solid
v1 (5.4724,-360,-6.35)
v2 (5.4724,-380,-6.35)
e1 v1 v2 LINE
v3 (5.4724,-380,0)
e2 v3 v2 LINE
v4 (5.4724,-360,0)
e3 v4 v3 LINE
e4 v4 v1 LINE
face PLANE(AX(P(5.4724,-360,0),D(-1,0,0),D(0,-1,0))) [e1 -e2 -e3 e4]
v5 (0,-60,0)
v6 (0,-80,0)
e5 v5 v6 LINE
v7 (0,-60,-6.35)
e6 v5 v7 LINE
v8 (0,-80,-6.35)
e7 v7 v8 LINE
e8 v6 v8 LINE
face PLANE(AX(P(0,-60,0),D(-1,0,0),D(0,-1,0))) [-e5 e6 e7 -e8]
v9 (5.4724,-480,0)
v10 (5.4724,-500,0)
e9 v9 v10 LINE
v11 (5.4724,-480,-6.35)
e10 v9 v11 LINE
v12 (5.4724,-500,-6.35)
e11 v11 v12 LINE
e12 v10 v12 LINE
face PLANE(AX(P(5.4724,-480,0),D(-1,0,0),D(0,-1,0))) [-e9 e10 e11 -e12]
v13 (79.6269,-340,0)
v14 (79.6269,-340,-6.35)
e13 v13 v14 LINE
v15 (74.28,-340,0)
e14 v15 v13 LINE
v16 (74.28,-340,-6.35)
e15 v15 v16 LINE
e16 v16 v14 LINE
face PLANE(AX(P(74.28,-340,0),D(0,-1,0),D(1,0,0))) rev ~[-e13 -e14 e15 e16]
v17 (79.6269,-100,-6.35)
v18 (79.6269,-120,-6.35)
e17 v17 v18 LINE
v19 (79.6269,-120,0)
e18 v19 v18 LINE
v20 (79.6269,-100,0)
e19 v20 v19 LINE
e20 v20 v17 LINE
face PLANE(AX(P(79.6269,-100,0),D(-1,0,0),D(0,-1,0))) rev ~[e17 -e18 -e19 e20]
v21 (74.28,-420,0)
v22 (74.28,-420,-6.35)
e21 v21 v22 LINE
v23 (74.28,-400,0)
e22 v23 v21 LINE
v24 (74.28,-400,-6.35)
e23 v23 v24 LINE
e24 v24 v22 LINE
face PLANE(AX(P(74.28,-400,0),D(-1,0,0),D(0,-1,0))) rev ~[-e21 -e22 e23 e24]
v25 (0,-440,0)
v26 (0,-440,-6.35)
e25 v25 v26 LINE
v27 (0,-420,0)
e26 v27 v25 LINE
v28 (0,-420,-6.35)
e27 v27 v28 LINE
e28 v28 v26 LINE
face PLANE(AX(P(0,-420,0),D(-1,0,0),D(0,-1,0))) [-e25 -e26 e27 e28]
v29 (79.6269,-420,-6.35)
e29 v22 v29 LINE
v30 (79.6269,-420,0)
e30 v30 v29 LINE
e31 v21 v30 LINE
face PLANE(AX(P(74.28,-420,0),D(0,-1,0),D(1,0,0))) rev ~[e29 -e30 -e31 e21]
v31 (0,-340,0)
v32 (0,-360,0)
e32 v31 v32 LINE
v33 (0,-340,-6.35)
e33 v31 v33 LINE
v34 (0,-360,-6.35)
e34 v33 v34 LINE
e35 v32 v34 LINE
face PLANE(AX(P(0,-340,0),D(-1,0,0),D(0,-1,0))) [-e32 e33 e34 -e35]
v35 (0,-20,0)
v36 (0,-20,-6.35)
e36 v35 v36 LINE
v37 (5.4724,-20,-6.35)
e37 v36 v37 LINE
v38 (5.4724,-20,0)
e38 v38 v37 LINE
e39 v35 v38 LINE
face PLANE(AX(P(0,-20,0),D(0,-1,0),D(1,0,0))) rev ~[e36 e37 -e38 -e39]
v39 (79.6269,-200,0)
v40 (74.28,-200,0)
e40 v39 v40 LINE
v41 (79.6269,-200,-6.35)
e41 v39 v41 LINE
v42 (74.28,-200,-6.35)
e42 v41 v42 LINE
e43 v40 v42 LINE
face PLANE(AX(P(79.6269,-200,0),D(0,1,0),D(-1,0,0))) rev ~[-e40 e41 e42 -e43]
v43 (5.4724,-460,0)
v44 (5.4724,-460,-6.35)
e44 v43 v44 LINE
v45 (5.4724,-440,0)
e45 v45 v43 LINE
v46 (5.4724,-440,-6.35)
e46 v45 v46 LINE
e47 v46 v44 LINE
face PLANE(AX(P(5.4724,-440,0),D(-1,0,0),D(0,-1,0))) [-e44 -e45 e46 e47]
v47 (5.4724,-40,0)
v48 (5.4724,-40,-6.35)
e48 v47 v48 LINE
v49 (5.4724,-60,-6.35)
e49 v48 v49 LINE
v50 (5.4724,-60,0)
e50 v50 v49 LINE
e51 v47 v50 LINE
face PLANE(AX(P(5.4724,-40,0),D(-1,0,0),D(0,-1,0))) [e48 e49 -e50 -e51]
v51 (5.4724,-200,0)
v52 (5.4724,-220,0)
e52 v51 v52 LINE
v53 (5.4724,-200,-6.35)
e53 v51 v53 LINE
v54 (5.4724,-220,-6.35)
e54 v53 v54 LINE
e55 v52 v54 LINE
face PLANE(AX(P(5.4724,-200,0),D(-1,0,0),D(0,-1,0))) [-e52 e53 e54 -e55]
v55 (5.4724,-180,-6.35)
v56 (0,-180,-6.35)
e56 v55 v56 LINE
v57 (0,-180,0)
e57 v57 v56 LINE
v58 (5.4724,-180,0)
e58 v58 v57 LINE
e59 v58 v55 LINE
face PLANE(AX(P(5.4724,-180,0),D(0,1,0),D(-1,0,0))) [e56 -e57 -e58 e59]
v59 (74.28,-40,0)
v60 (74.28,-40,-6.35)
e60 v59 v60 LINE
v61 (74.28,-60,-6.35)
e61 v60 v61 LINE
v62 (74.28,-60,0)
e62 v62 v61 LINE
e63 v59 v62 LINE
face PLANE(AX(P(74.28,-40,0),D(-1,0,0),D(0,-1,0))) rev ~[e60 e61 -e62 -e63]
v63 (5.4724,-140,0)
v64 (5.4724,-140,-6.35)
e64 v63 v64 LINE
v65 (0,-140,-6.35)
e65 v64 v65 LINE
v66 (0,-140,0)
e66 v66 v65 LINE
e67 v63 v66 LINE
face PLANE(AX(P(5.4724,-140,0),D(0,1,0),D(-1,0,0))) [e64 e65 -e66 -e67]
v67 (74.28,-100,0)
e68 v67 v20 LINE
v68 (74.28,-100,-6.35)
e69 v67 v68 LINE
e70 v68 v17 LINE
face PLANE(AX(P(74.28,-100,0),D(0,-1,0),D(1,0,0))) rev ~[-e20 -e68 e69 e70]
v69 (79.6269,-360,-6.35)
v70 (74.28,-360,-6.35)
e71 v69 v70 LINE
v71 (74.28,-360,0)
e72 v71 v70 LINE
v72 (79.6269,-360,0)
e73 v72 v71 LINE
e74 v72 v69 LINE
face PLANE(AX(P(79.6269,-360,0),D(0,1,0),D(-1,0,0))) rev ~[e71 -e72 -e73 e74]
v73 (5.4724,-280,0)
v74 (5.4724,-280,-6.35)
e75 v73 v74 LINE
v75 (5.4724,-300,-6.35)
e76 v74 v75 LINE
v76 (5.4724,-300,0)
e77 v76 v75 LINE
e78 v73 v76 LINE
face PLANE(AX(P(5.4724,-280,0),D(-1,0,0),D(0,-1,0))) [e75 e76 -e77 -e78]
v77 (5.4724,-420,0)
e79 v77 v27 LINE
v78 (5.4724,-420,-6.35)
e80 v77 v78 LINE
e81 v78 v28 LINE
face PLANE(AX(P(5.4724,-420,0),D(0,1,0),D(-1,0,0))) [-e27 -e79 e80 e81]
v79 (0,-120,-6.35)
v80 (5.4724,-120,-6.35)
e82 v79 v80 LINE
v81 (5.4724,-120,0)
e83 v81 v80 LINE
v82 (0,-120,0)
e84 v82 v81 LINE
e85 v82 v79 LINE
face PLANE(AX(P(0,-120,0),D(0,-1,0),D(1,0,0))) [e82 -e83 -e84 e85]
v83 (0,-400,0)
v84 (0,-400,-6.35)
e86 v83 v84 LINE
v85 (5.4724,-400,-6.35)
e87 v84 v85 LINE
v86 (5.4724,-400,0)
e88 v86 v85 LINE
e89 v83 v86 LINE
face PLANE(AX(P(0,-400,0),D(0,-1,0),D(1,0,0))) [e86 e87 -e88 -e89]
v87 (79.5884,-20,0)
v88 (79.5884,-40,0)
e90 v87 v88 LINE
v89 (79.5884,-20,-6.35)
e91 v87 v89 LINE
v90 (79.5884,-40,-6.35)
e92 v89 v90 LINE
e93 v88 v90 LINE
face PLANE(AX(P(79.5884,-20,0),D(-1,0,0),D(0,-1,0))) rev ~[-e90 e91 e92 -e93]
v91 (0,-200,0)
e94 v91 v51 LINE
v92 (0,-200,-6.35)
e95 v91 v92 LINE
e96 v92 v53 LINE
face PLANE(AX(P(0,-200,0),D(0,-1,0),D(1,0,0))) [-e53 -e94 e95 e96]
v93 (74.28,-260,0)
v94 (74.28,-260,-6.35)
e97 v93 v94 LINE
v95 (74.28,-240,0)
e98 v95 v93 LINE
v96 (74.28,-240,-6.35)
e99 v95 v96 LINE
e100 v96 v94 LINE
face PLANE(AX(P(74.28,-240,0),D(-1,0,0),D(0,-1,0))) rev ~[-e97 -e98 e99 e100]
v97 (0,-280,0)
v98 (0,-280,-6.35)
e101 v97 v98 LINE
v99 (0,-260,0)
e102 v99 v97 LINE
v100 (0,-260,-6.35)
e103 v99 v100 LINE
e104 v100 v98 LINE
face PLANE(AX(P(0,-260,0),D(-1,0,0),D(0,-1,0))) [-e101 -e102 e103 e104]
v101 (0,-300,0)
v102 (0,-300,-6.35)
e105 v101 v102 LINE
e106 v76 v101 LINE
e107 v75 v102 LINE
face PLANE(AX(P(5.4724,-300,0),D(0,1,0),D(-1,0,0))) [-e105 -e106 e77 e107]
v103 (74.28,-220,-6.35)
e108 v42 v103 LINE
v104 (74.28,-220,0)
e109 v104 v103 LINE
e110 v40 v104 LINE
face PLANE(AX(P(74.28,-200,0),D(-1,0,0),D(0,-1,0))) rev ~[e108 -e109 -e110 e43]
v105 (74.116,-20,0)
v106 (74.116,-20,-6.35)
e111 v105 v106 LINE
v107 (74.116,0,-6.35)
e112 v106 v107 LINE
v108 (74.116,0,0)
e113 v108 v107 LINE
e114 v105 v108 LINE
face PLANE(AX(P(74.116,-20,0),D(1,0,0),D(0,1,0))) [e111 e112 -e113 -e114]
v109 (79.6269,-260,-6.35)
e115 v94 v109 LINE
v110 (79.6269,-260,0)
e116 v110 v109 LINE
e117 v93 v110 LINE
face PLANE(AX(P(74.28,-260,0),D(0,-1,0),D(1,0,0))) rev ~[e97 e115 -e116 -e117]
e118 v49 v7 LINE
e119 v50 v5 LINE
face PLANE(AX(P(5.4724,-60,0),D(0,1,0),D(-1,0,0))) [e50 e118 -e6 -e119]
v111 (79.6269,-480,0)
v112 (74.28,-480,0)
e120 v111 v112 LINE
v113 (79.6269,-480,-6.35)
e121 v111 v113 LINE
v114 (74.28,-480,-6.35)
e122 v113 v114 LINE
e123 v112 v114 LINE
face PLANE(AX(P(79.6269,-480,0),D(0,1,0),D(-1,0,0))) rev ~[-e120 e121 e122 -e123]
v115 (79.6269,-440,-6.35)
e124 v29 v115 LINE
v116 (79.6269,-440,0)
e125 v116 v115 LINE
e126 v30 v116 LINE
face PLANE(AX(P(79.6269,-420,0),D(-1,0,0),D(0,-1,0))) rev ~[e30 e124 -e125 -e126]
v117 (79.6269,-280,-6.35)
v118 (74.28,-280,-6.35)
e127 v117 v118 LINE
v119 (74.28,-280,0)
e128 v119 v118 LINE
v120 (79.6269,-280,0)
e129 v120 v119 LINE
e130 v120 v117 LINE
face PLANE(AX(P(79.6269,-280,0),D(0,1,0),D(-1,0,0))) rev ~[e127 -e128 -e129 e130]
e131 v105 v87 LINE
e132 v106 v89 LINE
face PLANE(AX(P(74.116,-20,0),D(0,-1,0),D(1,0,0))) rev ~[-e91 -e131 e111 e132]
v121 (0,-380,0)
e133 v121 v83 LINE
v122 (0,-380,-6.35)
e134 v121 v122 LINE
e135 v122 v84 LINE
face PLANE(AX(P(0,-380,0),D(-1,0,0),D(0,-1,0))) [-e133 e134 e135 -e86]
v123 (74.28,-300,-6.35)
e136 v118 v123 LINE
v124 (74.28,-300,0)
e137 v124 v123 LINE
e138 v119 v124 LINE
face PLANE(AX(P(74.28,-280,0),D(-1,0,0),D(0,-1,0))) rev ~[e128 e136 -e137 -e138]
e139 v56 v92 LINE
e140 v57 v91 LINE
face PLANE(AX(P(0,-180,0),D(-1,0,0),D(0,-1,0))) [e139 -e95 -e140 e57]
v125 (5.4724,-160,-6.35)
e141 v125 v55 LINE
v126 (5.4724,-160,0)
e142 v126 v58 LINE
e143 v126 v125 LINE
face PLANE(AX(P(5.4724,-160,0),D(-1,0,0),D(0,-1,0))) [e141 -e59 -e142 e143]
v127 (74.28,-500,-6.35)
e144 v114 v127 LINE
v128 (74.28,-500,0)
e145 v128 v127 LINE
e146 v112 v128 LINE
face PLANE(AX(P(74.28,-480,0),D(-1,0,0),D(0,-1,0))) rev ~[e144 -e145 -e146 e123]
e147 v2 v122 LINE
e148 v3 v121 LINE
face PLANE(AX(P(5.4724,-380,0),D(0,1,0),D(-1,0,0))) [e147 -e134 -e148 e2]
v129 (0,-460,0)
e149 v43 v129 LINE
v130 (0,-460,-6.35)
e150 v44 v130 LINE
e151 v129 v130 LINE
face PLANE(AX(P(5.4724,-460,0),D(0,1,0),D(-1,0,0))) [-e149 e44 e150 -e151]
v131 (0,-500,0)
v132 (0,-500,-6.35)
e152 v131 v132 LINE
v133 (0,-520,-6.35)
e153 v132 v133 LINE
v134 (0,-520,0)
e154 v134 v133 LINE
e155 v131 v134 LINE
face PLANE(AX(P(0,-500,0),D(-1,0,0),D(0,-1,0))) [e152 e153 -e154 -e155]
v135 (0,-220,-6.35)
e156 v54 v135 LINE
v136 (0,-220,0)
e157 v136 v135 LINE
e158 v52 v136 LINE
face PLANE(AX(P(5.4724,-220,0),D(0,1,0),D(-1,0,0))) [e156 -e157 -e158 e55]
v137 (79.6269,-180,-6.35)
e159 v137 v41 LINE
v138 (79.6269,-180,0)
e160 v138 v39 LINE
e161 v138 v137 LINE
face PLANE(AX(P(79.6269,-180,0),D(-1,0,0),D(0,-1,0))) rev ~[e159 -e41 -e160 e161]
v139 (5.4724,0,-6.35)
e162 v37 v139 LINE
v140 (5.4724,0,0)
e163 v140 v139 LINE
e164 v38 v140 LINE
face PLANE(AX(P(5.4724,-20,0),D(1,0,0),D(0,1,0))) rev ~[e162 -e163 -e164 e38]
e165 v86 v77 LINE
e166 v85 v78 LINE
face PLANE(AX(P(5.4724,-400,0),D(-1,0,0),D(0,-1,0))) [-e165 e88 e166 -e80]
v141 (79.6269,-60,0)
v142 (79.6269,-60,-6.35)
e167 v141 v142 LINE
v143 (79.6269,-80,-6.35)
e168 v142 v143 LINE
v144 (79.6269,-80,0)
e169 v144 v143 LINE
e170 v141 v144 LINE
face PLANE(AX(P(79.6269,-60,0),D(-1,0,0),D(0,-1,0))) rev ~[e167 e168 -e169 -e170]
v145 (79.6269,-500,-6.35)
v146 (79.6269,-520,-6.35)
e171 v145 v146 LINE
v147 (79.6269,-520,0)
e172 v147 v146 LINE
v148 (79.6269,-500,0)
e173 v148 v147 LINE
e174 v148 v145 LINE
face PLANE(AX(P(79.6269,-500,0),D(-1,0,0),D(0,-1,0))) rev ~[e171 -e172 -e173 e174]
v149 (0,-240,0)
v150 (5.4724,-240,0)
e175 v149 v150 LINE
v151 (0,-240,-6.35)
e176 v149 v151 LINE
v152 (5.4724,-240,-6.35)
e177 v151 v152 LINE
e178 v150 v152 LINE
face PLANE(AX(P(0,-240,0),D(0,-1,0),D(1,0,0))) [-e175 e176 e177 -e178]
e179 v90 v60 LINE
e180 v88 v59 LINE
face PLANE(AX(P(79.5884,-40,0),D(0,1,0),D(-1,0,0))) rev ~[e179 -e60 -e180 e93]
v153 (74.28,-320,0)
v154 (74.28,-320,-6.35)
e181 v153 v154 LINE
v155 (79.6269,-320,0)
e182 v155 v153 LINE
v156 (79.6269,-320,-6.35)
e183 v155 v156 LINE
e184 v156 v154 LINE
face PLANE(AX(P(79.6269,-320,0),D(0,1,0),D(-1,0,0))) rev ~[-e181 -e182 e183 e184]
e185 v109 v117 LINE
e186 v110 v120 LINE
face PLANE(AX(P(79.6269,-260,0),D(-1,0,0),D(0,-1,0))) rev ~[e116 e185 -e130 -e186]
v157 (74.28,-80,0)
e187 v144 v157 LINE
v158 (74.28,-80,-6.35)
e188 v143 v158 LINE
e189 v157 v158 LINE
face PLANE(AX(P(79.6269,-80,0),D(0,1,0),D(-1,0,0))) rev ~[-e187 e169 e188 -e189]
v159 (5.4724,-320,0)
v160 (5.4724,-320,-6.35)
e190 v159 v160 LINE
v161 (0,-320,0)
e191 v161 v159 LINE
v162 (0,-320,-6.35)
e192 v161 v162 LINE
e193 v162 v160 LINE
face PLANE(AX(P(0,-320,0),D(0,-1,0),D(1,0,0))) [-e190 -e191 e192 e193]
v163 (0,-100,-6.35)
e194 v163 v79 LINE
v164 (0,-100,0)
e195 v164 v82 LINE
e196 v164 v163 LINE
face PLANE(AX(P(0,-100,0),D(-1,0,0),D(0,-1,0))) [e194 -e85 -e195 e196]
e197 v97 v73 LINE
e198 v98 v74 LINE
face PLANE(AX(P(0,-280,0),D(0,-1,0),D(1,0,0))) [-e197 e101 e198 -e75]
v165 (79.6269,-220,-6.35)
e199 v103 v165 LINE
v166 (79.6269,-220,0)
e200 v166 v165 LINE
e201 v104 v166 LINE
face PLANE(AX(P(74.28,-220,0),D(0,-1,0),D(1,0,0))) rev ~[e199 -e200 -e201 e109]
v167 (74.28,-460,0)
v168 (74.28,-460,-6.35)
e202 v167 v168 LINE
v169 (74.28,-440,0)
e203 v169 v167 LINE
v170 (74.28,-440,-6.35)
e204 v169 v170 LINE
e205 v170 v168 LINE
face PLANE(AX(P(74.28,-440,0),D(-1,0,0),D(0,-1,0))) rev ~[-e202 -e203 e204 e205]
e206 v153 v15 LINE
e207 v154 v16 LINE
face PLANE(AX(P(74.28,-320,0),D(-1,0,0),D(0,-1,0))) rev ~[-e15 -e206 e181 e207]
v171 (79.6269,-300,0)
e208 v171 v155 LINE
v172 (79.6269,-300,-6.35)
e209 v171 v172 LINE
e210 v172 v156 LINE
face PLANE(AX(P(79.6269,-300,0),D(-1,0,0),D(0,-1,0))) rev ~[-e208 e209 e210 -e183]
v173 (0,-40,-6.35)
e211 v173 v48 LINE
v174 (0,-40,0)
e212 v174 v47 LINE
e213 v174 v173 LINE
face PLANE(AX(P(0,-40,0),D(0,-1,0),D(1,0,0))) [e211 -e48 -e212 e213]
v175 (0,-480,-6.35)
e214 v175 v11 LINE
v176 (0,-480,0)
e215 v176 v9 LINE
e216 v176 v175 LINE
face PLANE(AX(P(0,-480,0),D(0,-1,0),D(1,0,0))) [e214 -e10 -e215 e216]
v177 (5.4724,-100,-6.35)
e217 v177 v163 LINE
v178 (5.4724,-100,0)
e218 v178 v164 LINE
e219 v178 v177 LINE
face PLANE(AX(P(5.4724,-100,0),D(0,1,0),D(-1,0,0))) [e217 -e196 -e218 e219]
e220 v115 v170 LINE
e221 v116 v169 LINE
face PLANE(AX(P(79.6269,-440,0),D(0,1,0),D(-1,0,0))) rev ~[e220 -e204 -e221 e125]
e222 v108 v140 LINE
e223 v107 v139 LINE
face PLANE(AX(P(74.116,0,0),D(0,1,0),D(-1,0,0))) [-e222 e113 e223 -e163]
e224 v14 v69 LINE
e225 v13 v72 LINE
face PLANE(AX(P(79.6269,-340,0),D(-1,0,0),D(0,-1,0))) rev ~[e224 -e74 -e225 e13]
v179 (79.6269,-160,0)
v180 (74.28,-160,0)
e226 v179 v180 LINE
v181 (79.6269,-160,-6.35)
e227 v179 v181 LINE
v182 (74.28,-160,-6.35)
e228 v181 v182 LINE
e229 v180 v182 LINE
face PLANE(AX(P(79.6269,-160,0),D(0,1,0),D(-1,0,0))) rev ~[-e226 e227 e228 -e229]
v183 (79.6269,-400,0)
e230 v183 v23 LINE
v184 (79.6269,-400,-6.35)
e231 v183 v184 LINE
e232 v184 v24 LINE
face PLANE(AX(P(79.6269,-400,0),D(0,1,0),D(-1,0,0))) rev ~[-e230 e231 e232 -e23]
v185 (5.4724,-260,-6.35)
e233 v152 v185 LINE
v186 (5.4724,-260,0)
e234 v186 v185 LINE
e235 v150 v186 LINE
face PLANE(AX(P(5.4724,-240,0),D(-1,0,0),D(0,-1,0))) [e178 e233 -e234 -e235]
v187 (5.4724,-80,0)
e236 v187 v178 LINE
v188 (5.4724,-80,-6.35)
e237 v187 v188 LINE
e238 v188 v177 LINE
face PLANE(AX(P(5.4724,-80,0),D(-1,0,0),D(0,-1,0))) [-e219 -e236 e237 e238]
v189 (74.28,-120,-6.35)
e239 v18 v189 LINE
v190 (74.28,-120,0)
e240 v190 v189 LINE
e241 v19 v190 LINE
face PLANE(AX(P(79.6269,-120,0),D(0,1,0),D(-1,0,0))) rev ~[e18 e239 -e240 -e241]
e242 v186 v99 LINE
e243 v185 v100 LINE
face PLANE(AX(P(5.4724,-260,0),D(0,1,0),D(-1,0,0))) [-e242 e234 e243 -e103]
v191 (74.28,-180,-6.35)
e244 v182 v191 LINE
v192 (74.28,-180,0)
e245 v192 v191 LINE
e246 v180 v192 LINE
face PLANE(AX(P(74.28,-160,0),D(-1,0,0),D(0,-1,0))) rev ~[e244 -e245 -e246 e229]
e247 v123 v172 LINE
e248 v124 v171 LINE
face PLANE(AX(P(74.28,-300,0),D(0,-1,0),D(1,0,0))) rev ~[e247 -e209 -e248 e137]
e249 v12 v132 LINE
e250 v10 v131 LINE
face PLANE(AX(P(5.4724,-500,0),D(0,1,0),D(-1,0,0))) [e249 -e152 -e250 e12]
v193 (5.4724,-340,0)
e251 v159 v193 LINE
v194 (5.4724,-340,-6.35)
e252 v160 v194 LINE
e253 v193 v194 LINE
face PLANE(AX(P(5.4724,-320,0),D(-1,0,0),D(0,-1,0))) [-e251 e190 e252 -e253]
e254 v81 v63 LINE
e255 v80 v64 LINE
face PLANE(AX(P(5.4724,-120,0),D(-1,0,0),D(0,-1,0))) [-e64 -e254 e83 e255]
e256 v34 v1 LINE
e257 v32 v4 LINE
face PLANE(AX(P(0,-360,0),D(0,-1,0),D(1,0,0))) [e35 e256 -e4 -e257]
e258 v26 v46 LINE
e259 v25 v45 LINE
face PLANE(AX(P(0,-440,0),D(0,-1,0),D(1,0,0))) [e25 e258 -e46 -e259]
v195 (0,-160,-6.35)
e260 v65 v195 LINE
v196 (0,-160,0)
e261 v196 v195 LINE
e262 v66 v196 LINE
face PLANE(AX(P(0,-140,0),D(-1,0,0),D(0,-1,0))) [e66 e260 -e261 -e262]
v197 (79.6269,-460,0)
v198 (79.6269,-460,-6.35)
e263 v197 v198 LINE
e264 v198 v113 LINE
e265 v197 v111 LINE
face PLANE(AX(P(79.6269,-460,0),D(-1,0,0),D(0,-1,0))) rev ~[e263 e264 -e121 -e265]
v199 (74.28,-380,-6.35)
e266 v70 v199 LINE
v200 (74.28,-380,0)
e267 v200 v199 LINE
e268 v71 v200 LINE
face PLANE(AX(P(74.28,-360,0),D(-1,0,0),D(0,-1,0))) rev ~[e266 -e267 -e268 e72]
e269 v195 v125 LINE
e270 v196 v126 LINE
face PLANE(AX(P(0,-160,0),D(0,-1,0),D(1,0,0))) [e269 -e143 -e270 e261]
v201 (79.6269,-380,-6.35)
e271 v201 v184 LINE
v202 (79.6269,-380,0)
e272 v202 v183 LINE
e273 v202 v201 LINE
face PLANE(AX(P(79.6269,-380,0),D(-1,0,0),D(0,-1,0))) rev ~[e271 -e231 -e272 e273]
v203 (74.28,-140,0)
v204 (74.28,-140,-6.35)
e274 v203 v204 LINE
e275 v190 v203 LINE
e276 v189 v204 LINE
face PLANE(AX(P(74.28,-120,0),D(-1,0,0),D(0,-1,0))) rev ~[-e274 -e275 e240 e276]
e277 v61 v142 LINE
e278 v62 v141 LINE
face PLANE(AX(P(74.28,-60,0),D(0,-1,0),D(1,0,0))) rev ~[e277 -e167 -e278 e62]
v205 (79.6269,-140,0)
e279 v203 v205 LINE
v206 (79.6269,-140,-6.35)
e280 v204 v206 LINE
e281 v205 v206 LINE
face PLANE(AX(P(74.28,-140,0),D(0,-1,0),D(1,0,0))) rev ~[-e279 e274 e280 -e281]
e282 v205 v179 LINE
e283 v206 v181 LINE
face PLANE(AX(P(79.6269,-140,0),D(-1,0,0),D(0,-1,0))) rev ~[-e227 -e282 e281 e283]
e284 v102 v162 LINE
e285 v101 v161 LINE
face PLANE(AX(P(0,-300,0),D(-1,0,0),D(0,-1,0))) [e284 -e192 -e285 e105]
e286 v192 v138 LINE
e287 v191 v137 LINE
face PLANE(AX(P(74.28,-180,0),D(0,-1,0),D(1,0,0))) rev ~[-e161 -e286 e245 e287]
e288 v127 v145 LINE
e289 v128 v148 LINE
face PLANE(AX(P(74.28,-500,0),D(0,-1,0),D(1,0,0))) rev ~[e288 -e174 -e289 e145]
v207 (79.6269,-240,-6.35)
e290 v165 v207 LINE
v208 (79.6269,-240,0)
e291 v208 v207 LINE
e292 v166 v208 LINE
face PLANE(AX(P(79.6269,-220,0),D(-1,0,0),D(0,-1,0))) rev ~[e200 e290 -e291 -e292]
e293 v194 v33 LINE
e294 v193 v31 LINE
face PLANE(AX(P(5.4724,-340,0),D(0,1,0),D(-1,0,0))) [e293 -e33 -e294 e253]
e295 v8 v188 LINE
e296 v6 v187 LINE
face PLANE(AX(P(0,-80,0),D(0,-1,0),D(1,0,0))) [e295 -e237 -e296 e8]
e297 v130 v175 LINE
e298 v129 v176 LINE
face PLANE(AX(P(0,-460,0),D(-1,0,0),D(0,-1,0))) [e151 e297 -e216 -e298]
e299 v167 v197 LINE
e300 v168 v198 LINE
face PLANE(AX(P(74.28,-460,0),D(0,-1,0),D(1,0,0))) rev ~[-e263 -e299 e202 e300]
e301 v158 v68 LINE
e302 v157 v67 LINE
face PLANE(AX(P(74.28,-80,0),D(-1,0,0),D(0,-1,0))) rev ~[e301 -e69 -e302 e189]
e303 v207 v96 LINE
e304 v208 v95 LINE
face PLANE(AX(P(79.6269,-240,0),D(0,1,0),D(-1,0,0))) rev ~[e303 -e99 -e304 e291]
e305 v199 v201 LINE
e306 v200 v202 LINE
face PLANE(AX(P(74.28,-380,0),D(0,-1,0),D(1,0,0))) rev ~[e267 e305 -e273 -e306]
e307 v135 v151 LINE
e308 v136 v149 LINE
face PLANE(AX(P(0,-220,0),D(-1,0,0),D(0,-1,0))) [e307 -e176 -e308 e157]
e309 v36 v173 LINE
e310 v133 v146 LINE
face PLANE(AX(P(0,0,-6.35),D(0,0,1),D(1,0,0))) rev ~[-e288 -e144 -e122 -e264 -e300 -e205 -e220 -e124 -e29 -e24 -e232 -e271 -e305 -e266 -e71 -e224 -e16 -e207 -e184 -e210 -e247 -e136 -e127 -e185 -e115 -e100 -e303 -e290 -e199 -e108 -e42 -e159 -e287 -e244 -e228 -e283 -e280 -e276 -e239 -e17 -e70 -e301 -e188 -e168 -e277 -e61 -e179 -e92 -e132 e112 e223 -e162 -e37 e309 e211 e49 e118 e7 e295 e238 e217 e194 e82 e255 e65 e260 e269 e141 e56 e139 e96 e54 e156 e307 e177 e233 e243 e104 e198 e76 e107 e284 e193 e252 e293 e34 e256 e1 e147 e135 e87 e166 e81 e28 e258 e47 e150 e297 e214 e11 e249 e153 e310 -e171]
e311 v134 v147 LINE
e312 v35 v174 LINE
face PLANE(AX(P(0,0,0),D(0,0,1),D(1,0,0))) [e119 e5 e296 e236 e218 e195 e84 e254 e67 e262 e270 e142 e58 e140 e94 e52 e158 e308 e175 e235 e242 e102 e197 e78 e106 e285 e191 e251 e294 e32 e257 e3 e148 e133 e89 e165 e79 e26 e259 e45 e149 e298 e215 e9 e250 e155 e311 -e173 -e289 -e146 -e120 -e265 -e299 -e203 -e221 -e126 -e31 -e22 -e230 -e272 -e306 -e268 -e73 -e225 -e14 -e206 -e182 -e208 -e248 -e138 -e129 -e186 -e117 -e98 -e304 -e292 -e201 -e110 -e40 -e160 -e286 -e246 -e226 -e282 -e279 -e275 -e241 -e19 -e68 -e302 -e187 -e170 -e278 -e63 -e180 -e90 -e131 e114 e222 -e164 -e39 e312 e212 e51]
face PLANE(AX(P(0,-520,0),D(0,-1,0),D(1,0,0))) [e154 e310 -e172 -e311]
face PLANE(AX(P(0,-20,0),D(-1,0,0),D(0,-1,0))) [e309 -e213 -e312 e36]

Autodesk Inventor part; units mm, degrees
ref_plane "YZ Plane" through (0, 0, 0) normal (1, 0, 0) x (0, 1, 0)
ref_plane "XZ Plane" through (0, 0, 0) normal (0, 1, 0) x (-1, 0, 0)
ref_plane "XY Plane" through (0, 0, 0) normal (0, 0, 1) x (1, 0, 0)
sketch "Sketch1" plane through (0, 0, 0) normal (0, 0, 1) x (1, 0, 0)
  line L0 (0, 0) -> (0, 20)
  line L1 (79.3918, 0) -> (79.3918, 20) projected
  line L2 (79.3918, 0) -> (0, 0) projected
  line L3 (-0.2277, -520) -> (79.6269, -520) projected
  line L4 (5.4724, 0) -> (74.116, 0)
  line L5 (79.6269, -520) -> (0, -520)
  line L6 (74.116, -20) -> (74.116, 0) projected
  line L7 (74.116, 0) -> (74.116, -20)
  line L8 (74.116, -20) -> (79.5884, -20)
  line L9 (0, -20) -> (5.4724, -20)
  line L10 (5.4724, -20) -> (5.4724, 0)
  line L11 (39.7942, 0) -> (39.7942, -37.2544) construction
  line L12 (0, -20) -> (0, -40)
  line L13 (0, -40) -> (5.4724, -40)
  line L14 (79.5884, -20) -> (79.5884, -40)
  line L15 (79.5884, -40) -> (74.28, -40)
  line L16 (5.4724, -40) -> (5.4724, -60)
  line L17 (5.4724, -60) -> (0, -60)
  line L18 (0, -60) -> (0, -80)
  line L19 (0, -80) -> (5.4724, -80)
  line L20 (5.4724, -80) -> (5.4724, -100)
  line L21 (5.4724, -100) -> (0, -100)
  line L22 (0, -100) -> (0, -120)
  line L23 (0, -120) -> (5.4724, -120)
  line L24 (5.4724, -120) -> (5.4724, -140)
  line L25 (5.4724, -140) -> (0, -140)
  line L26 (0, -140) -> (0, -160)
  line L27 (0, -160) -> (5.4724, -160)
  line L28 (5.4724, -160) -> (5.4724, -180)
  line L29 (5.4724, -180) -> (0, -180)
  line L30 (0, -180) -> (0, -200)
  line L31 (0, -200) -> (5.4724, -200)
  line L32 (5.4724, -200) -> (5.4724, -220)
  line L33 (5.4724, -220) -> (0, -220)
  line L34 (0, -220) -> (0, -240)
  line L35 (0, -240) -> (5.4724, -240)
  line L36 (5.4724, -240) -> (5.4724, -260)
  line L37 (5.4724, -260) -> (0, -260)
  line L38 (0, -260) -> (0, -280)
  line L39 (0, -280) -> (5.4724, -280)
  line L40 (5.4724, -280) -> (5.4724, -300)
  line L41 (5.4724, -300) -> (0, -300)
  line L42 (0, -300) -> (0, -320)
  line L43 (0, -320) -> (5.4724, -320)
  line L44 (5.4724, -320) -> (5.4724, -340)
  line L45 (5.4724, -340) -> (0, -340)
  line L46 (0, -340) -> (0, -360)
  line L47 (0, -360) -> (5.4724, -360)
  line L48 (5.4724, -360) -> (5.4724, -380)
  line L49 (5.4724, -380) -> (0, -380)
  line L50 (0, -380) -> (0, -400)
  line L51 (0, -400) -> (5.4724, -400)
  line L52 (5.4724, -400) -> (5.4724, -420)
  line L53 (5.4724, -420) -> (0, -420)
  line L54 (0, -420) -> (0, -440)
  line L55 (0, -440) -> (5.4724, -440)
  line L56 (5.4724, -440) -> (5.4724, -460)
  line L57 (5.4724, -460) -> (0, -460)
  line L58 (0, -460) -> (0, -480)
  line L59 (0, -480) -> (5.4724, -480)
  line L60 (5.4724, -480) -> (5.4724, -500)
  line L61 (5.4724, -500) -> (0, -500)
  line L62 (0, -500) -> (0, -520)
  line L63 (74.28, -40) -> (74.28, -60)
  line L64 (74.28, -60) -> (79.6269, -60)
  line L65 (79.6269, -60) -> (79.6269, -80)
  line L66 (79.6269, -80) -> (74.28, -80)
  line L67 (74.28, -80) -> (74.28, -100)
  line L68 (74.28, -100) -> (79.6269, -100)
  line L69 (79.6269, -100) -> (79.6269, -120)
  line L70 (79.6269, -120) -> (74.28, -120)
  line L71 (74.28, -120) -> (74.28, -140)
  line L72 (74.28, -140) -> (79.6269, -140)
  line L73 (79.6269, -140) -> (79.6269, -160)
  line L74 (79.6269, -160) -> (74.28, -160)
  line L75 (74.28, -160) -> (74.28, -180)
  line L76 (74.28, -180) -> (79.6269, -180)
  line L77 (79.6269, -180) -> (79.6269, -200)
  line L78 (79.6269, -200) -> (74.28, -200)
  line L79 (74.28, -200) -> (74.28, -220)
  line L80 (74.28, -220) -> (79.6269, -220)
  line L81 (79.6269, -220) -> (79.6269, -240)
  line L82 (79.6269, -240) -> (74.28, -240)
  line L83 (74.28, -240) -> (74.28, -260)
  line L84 (74.28, -260) -> (79.6269, -260)
  line L85 (79.6269, -260) -> (79.6269, -280)
  line L86 (79.6269, -280) -> (74.28, -280)
  line L87 (74.28, -280) -> (74.28, -300)
  line L88 (74.28, -300) -> (79.6269, -300)
  line L89 (79.6269, -300) -> (79.6269, -320)
  line L90 (79.6269, -320) -> (74.28, -320)
  line L91 (74.28, -320) -> (74.28, -340)
  line L92 (74.28, -340) -> (79.6269, -340)
  line L93 (79.6269, -340) -> (79.6269, -360)
  line L94 (79.6269, -360) -> (74.28, -360)
  line L95 (74.28, -360) -> (74.28, -380)
  line L96 (74.28, -380) -> (79.6269, -380)
  line L97 (79.6269, -380) -> (79.6269, -400)
  line L98 (79.6269, -400) -> (74.28, -400)
  line L99 (74.28, -400) -> (74.28, -420)
  line L100 (74.28, -420) -> (79.6269, -420)
  line L101 (79.6269, -420) -> (79.6269, -440)
  line L102 (79.6269, -440) -> (74.28, -440)
  line L103 (74.28, -440) -> (74.28, -460)
  line L104 (74.28, -460) -> (79.6269, -460)
  line L105 (79.6269, -460) -> (79.6269, -480)
  line L106 (79.6269, -480) -> (74.28, -480)
  line L107 (74.28, -480) -> (74.28, -500)
  line L108 (74.28, -500) -> (79.6269, -500)
  line L109 (79.6269, -500) -> (79.6269, -520)
  dimension "d16" = 20
  dimension "d17" = 20
  dimension "d18" = 20
  dimension "d19" = 20
  dimension "d20" = 20
  dimension "d21" = 20
  dimension "d22" = 20
  dimension "d23" = 20
  dimension "d24" = 20
  dimension "d25" = 20
  dimension "d26" = 20
  dimension "d27" = 20
  dimension "d28" = 20
  dimension "d29" = 20
  dimension "d30" = 20
  dimension "d31" = 20
  dimension "d32" = 20
  dimension "d33" = 20
  dimension "d34" = 20
  dimension "d35" = 20
  dimension "d36" = 20
  dimension "d37" = 20
  dimension "d38" = 20
  dimension "d39" = 20
extrude "Extrusion1" add sketch "Sketch1" against normal blind 6.35
properties part number "small wall"
